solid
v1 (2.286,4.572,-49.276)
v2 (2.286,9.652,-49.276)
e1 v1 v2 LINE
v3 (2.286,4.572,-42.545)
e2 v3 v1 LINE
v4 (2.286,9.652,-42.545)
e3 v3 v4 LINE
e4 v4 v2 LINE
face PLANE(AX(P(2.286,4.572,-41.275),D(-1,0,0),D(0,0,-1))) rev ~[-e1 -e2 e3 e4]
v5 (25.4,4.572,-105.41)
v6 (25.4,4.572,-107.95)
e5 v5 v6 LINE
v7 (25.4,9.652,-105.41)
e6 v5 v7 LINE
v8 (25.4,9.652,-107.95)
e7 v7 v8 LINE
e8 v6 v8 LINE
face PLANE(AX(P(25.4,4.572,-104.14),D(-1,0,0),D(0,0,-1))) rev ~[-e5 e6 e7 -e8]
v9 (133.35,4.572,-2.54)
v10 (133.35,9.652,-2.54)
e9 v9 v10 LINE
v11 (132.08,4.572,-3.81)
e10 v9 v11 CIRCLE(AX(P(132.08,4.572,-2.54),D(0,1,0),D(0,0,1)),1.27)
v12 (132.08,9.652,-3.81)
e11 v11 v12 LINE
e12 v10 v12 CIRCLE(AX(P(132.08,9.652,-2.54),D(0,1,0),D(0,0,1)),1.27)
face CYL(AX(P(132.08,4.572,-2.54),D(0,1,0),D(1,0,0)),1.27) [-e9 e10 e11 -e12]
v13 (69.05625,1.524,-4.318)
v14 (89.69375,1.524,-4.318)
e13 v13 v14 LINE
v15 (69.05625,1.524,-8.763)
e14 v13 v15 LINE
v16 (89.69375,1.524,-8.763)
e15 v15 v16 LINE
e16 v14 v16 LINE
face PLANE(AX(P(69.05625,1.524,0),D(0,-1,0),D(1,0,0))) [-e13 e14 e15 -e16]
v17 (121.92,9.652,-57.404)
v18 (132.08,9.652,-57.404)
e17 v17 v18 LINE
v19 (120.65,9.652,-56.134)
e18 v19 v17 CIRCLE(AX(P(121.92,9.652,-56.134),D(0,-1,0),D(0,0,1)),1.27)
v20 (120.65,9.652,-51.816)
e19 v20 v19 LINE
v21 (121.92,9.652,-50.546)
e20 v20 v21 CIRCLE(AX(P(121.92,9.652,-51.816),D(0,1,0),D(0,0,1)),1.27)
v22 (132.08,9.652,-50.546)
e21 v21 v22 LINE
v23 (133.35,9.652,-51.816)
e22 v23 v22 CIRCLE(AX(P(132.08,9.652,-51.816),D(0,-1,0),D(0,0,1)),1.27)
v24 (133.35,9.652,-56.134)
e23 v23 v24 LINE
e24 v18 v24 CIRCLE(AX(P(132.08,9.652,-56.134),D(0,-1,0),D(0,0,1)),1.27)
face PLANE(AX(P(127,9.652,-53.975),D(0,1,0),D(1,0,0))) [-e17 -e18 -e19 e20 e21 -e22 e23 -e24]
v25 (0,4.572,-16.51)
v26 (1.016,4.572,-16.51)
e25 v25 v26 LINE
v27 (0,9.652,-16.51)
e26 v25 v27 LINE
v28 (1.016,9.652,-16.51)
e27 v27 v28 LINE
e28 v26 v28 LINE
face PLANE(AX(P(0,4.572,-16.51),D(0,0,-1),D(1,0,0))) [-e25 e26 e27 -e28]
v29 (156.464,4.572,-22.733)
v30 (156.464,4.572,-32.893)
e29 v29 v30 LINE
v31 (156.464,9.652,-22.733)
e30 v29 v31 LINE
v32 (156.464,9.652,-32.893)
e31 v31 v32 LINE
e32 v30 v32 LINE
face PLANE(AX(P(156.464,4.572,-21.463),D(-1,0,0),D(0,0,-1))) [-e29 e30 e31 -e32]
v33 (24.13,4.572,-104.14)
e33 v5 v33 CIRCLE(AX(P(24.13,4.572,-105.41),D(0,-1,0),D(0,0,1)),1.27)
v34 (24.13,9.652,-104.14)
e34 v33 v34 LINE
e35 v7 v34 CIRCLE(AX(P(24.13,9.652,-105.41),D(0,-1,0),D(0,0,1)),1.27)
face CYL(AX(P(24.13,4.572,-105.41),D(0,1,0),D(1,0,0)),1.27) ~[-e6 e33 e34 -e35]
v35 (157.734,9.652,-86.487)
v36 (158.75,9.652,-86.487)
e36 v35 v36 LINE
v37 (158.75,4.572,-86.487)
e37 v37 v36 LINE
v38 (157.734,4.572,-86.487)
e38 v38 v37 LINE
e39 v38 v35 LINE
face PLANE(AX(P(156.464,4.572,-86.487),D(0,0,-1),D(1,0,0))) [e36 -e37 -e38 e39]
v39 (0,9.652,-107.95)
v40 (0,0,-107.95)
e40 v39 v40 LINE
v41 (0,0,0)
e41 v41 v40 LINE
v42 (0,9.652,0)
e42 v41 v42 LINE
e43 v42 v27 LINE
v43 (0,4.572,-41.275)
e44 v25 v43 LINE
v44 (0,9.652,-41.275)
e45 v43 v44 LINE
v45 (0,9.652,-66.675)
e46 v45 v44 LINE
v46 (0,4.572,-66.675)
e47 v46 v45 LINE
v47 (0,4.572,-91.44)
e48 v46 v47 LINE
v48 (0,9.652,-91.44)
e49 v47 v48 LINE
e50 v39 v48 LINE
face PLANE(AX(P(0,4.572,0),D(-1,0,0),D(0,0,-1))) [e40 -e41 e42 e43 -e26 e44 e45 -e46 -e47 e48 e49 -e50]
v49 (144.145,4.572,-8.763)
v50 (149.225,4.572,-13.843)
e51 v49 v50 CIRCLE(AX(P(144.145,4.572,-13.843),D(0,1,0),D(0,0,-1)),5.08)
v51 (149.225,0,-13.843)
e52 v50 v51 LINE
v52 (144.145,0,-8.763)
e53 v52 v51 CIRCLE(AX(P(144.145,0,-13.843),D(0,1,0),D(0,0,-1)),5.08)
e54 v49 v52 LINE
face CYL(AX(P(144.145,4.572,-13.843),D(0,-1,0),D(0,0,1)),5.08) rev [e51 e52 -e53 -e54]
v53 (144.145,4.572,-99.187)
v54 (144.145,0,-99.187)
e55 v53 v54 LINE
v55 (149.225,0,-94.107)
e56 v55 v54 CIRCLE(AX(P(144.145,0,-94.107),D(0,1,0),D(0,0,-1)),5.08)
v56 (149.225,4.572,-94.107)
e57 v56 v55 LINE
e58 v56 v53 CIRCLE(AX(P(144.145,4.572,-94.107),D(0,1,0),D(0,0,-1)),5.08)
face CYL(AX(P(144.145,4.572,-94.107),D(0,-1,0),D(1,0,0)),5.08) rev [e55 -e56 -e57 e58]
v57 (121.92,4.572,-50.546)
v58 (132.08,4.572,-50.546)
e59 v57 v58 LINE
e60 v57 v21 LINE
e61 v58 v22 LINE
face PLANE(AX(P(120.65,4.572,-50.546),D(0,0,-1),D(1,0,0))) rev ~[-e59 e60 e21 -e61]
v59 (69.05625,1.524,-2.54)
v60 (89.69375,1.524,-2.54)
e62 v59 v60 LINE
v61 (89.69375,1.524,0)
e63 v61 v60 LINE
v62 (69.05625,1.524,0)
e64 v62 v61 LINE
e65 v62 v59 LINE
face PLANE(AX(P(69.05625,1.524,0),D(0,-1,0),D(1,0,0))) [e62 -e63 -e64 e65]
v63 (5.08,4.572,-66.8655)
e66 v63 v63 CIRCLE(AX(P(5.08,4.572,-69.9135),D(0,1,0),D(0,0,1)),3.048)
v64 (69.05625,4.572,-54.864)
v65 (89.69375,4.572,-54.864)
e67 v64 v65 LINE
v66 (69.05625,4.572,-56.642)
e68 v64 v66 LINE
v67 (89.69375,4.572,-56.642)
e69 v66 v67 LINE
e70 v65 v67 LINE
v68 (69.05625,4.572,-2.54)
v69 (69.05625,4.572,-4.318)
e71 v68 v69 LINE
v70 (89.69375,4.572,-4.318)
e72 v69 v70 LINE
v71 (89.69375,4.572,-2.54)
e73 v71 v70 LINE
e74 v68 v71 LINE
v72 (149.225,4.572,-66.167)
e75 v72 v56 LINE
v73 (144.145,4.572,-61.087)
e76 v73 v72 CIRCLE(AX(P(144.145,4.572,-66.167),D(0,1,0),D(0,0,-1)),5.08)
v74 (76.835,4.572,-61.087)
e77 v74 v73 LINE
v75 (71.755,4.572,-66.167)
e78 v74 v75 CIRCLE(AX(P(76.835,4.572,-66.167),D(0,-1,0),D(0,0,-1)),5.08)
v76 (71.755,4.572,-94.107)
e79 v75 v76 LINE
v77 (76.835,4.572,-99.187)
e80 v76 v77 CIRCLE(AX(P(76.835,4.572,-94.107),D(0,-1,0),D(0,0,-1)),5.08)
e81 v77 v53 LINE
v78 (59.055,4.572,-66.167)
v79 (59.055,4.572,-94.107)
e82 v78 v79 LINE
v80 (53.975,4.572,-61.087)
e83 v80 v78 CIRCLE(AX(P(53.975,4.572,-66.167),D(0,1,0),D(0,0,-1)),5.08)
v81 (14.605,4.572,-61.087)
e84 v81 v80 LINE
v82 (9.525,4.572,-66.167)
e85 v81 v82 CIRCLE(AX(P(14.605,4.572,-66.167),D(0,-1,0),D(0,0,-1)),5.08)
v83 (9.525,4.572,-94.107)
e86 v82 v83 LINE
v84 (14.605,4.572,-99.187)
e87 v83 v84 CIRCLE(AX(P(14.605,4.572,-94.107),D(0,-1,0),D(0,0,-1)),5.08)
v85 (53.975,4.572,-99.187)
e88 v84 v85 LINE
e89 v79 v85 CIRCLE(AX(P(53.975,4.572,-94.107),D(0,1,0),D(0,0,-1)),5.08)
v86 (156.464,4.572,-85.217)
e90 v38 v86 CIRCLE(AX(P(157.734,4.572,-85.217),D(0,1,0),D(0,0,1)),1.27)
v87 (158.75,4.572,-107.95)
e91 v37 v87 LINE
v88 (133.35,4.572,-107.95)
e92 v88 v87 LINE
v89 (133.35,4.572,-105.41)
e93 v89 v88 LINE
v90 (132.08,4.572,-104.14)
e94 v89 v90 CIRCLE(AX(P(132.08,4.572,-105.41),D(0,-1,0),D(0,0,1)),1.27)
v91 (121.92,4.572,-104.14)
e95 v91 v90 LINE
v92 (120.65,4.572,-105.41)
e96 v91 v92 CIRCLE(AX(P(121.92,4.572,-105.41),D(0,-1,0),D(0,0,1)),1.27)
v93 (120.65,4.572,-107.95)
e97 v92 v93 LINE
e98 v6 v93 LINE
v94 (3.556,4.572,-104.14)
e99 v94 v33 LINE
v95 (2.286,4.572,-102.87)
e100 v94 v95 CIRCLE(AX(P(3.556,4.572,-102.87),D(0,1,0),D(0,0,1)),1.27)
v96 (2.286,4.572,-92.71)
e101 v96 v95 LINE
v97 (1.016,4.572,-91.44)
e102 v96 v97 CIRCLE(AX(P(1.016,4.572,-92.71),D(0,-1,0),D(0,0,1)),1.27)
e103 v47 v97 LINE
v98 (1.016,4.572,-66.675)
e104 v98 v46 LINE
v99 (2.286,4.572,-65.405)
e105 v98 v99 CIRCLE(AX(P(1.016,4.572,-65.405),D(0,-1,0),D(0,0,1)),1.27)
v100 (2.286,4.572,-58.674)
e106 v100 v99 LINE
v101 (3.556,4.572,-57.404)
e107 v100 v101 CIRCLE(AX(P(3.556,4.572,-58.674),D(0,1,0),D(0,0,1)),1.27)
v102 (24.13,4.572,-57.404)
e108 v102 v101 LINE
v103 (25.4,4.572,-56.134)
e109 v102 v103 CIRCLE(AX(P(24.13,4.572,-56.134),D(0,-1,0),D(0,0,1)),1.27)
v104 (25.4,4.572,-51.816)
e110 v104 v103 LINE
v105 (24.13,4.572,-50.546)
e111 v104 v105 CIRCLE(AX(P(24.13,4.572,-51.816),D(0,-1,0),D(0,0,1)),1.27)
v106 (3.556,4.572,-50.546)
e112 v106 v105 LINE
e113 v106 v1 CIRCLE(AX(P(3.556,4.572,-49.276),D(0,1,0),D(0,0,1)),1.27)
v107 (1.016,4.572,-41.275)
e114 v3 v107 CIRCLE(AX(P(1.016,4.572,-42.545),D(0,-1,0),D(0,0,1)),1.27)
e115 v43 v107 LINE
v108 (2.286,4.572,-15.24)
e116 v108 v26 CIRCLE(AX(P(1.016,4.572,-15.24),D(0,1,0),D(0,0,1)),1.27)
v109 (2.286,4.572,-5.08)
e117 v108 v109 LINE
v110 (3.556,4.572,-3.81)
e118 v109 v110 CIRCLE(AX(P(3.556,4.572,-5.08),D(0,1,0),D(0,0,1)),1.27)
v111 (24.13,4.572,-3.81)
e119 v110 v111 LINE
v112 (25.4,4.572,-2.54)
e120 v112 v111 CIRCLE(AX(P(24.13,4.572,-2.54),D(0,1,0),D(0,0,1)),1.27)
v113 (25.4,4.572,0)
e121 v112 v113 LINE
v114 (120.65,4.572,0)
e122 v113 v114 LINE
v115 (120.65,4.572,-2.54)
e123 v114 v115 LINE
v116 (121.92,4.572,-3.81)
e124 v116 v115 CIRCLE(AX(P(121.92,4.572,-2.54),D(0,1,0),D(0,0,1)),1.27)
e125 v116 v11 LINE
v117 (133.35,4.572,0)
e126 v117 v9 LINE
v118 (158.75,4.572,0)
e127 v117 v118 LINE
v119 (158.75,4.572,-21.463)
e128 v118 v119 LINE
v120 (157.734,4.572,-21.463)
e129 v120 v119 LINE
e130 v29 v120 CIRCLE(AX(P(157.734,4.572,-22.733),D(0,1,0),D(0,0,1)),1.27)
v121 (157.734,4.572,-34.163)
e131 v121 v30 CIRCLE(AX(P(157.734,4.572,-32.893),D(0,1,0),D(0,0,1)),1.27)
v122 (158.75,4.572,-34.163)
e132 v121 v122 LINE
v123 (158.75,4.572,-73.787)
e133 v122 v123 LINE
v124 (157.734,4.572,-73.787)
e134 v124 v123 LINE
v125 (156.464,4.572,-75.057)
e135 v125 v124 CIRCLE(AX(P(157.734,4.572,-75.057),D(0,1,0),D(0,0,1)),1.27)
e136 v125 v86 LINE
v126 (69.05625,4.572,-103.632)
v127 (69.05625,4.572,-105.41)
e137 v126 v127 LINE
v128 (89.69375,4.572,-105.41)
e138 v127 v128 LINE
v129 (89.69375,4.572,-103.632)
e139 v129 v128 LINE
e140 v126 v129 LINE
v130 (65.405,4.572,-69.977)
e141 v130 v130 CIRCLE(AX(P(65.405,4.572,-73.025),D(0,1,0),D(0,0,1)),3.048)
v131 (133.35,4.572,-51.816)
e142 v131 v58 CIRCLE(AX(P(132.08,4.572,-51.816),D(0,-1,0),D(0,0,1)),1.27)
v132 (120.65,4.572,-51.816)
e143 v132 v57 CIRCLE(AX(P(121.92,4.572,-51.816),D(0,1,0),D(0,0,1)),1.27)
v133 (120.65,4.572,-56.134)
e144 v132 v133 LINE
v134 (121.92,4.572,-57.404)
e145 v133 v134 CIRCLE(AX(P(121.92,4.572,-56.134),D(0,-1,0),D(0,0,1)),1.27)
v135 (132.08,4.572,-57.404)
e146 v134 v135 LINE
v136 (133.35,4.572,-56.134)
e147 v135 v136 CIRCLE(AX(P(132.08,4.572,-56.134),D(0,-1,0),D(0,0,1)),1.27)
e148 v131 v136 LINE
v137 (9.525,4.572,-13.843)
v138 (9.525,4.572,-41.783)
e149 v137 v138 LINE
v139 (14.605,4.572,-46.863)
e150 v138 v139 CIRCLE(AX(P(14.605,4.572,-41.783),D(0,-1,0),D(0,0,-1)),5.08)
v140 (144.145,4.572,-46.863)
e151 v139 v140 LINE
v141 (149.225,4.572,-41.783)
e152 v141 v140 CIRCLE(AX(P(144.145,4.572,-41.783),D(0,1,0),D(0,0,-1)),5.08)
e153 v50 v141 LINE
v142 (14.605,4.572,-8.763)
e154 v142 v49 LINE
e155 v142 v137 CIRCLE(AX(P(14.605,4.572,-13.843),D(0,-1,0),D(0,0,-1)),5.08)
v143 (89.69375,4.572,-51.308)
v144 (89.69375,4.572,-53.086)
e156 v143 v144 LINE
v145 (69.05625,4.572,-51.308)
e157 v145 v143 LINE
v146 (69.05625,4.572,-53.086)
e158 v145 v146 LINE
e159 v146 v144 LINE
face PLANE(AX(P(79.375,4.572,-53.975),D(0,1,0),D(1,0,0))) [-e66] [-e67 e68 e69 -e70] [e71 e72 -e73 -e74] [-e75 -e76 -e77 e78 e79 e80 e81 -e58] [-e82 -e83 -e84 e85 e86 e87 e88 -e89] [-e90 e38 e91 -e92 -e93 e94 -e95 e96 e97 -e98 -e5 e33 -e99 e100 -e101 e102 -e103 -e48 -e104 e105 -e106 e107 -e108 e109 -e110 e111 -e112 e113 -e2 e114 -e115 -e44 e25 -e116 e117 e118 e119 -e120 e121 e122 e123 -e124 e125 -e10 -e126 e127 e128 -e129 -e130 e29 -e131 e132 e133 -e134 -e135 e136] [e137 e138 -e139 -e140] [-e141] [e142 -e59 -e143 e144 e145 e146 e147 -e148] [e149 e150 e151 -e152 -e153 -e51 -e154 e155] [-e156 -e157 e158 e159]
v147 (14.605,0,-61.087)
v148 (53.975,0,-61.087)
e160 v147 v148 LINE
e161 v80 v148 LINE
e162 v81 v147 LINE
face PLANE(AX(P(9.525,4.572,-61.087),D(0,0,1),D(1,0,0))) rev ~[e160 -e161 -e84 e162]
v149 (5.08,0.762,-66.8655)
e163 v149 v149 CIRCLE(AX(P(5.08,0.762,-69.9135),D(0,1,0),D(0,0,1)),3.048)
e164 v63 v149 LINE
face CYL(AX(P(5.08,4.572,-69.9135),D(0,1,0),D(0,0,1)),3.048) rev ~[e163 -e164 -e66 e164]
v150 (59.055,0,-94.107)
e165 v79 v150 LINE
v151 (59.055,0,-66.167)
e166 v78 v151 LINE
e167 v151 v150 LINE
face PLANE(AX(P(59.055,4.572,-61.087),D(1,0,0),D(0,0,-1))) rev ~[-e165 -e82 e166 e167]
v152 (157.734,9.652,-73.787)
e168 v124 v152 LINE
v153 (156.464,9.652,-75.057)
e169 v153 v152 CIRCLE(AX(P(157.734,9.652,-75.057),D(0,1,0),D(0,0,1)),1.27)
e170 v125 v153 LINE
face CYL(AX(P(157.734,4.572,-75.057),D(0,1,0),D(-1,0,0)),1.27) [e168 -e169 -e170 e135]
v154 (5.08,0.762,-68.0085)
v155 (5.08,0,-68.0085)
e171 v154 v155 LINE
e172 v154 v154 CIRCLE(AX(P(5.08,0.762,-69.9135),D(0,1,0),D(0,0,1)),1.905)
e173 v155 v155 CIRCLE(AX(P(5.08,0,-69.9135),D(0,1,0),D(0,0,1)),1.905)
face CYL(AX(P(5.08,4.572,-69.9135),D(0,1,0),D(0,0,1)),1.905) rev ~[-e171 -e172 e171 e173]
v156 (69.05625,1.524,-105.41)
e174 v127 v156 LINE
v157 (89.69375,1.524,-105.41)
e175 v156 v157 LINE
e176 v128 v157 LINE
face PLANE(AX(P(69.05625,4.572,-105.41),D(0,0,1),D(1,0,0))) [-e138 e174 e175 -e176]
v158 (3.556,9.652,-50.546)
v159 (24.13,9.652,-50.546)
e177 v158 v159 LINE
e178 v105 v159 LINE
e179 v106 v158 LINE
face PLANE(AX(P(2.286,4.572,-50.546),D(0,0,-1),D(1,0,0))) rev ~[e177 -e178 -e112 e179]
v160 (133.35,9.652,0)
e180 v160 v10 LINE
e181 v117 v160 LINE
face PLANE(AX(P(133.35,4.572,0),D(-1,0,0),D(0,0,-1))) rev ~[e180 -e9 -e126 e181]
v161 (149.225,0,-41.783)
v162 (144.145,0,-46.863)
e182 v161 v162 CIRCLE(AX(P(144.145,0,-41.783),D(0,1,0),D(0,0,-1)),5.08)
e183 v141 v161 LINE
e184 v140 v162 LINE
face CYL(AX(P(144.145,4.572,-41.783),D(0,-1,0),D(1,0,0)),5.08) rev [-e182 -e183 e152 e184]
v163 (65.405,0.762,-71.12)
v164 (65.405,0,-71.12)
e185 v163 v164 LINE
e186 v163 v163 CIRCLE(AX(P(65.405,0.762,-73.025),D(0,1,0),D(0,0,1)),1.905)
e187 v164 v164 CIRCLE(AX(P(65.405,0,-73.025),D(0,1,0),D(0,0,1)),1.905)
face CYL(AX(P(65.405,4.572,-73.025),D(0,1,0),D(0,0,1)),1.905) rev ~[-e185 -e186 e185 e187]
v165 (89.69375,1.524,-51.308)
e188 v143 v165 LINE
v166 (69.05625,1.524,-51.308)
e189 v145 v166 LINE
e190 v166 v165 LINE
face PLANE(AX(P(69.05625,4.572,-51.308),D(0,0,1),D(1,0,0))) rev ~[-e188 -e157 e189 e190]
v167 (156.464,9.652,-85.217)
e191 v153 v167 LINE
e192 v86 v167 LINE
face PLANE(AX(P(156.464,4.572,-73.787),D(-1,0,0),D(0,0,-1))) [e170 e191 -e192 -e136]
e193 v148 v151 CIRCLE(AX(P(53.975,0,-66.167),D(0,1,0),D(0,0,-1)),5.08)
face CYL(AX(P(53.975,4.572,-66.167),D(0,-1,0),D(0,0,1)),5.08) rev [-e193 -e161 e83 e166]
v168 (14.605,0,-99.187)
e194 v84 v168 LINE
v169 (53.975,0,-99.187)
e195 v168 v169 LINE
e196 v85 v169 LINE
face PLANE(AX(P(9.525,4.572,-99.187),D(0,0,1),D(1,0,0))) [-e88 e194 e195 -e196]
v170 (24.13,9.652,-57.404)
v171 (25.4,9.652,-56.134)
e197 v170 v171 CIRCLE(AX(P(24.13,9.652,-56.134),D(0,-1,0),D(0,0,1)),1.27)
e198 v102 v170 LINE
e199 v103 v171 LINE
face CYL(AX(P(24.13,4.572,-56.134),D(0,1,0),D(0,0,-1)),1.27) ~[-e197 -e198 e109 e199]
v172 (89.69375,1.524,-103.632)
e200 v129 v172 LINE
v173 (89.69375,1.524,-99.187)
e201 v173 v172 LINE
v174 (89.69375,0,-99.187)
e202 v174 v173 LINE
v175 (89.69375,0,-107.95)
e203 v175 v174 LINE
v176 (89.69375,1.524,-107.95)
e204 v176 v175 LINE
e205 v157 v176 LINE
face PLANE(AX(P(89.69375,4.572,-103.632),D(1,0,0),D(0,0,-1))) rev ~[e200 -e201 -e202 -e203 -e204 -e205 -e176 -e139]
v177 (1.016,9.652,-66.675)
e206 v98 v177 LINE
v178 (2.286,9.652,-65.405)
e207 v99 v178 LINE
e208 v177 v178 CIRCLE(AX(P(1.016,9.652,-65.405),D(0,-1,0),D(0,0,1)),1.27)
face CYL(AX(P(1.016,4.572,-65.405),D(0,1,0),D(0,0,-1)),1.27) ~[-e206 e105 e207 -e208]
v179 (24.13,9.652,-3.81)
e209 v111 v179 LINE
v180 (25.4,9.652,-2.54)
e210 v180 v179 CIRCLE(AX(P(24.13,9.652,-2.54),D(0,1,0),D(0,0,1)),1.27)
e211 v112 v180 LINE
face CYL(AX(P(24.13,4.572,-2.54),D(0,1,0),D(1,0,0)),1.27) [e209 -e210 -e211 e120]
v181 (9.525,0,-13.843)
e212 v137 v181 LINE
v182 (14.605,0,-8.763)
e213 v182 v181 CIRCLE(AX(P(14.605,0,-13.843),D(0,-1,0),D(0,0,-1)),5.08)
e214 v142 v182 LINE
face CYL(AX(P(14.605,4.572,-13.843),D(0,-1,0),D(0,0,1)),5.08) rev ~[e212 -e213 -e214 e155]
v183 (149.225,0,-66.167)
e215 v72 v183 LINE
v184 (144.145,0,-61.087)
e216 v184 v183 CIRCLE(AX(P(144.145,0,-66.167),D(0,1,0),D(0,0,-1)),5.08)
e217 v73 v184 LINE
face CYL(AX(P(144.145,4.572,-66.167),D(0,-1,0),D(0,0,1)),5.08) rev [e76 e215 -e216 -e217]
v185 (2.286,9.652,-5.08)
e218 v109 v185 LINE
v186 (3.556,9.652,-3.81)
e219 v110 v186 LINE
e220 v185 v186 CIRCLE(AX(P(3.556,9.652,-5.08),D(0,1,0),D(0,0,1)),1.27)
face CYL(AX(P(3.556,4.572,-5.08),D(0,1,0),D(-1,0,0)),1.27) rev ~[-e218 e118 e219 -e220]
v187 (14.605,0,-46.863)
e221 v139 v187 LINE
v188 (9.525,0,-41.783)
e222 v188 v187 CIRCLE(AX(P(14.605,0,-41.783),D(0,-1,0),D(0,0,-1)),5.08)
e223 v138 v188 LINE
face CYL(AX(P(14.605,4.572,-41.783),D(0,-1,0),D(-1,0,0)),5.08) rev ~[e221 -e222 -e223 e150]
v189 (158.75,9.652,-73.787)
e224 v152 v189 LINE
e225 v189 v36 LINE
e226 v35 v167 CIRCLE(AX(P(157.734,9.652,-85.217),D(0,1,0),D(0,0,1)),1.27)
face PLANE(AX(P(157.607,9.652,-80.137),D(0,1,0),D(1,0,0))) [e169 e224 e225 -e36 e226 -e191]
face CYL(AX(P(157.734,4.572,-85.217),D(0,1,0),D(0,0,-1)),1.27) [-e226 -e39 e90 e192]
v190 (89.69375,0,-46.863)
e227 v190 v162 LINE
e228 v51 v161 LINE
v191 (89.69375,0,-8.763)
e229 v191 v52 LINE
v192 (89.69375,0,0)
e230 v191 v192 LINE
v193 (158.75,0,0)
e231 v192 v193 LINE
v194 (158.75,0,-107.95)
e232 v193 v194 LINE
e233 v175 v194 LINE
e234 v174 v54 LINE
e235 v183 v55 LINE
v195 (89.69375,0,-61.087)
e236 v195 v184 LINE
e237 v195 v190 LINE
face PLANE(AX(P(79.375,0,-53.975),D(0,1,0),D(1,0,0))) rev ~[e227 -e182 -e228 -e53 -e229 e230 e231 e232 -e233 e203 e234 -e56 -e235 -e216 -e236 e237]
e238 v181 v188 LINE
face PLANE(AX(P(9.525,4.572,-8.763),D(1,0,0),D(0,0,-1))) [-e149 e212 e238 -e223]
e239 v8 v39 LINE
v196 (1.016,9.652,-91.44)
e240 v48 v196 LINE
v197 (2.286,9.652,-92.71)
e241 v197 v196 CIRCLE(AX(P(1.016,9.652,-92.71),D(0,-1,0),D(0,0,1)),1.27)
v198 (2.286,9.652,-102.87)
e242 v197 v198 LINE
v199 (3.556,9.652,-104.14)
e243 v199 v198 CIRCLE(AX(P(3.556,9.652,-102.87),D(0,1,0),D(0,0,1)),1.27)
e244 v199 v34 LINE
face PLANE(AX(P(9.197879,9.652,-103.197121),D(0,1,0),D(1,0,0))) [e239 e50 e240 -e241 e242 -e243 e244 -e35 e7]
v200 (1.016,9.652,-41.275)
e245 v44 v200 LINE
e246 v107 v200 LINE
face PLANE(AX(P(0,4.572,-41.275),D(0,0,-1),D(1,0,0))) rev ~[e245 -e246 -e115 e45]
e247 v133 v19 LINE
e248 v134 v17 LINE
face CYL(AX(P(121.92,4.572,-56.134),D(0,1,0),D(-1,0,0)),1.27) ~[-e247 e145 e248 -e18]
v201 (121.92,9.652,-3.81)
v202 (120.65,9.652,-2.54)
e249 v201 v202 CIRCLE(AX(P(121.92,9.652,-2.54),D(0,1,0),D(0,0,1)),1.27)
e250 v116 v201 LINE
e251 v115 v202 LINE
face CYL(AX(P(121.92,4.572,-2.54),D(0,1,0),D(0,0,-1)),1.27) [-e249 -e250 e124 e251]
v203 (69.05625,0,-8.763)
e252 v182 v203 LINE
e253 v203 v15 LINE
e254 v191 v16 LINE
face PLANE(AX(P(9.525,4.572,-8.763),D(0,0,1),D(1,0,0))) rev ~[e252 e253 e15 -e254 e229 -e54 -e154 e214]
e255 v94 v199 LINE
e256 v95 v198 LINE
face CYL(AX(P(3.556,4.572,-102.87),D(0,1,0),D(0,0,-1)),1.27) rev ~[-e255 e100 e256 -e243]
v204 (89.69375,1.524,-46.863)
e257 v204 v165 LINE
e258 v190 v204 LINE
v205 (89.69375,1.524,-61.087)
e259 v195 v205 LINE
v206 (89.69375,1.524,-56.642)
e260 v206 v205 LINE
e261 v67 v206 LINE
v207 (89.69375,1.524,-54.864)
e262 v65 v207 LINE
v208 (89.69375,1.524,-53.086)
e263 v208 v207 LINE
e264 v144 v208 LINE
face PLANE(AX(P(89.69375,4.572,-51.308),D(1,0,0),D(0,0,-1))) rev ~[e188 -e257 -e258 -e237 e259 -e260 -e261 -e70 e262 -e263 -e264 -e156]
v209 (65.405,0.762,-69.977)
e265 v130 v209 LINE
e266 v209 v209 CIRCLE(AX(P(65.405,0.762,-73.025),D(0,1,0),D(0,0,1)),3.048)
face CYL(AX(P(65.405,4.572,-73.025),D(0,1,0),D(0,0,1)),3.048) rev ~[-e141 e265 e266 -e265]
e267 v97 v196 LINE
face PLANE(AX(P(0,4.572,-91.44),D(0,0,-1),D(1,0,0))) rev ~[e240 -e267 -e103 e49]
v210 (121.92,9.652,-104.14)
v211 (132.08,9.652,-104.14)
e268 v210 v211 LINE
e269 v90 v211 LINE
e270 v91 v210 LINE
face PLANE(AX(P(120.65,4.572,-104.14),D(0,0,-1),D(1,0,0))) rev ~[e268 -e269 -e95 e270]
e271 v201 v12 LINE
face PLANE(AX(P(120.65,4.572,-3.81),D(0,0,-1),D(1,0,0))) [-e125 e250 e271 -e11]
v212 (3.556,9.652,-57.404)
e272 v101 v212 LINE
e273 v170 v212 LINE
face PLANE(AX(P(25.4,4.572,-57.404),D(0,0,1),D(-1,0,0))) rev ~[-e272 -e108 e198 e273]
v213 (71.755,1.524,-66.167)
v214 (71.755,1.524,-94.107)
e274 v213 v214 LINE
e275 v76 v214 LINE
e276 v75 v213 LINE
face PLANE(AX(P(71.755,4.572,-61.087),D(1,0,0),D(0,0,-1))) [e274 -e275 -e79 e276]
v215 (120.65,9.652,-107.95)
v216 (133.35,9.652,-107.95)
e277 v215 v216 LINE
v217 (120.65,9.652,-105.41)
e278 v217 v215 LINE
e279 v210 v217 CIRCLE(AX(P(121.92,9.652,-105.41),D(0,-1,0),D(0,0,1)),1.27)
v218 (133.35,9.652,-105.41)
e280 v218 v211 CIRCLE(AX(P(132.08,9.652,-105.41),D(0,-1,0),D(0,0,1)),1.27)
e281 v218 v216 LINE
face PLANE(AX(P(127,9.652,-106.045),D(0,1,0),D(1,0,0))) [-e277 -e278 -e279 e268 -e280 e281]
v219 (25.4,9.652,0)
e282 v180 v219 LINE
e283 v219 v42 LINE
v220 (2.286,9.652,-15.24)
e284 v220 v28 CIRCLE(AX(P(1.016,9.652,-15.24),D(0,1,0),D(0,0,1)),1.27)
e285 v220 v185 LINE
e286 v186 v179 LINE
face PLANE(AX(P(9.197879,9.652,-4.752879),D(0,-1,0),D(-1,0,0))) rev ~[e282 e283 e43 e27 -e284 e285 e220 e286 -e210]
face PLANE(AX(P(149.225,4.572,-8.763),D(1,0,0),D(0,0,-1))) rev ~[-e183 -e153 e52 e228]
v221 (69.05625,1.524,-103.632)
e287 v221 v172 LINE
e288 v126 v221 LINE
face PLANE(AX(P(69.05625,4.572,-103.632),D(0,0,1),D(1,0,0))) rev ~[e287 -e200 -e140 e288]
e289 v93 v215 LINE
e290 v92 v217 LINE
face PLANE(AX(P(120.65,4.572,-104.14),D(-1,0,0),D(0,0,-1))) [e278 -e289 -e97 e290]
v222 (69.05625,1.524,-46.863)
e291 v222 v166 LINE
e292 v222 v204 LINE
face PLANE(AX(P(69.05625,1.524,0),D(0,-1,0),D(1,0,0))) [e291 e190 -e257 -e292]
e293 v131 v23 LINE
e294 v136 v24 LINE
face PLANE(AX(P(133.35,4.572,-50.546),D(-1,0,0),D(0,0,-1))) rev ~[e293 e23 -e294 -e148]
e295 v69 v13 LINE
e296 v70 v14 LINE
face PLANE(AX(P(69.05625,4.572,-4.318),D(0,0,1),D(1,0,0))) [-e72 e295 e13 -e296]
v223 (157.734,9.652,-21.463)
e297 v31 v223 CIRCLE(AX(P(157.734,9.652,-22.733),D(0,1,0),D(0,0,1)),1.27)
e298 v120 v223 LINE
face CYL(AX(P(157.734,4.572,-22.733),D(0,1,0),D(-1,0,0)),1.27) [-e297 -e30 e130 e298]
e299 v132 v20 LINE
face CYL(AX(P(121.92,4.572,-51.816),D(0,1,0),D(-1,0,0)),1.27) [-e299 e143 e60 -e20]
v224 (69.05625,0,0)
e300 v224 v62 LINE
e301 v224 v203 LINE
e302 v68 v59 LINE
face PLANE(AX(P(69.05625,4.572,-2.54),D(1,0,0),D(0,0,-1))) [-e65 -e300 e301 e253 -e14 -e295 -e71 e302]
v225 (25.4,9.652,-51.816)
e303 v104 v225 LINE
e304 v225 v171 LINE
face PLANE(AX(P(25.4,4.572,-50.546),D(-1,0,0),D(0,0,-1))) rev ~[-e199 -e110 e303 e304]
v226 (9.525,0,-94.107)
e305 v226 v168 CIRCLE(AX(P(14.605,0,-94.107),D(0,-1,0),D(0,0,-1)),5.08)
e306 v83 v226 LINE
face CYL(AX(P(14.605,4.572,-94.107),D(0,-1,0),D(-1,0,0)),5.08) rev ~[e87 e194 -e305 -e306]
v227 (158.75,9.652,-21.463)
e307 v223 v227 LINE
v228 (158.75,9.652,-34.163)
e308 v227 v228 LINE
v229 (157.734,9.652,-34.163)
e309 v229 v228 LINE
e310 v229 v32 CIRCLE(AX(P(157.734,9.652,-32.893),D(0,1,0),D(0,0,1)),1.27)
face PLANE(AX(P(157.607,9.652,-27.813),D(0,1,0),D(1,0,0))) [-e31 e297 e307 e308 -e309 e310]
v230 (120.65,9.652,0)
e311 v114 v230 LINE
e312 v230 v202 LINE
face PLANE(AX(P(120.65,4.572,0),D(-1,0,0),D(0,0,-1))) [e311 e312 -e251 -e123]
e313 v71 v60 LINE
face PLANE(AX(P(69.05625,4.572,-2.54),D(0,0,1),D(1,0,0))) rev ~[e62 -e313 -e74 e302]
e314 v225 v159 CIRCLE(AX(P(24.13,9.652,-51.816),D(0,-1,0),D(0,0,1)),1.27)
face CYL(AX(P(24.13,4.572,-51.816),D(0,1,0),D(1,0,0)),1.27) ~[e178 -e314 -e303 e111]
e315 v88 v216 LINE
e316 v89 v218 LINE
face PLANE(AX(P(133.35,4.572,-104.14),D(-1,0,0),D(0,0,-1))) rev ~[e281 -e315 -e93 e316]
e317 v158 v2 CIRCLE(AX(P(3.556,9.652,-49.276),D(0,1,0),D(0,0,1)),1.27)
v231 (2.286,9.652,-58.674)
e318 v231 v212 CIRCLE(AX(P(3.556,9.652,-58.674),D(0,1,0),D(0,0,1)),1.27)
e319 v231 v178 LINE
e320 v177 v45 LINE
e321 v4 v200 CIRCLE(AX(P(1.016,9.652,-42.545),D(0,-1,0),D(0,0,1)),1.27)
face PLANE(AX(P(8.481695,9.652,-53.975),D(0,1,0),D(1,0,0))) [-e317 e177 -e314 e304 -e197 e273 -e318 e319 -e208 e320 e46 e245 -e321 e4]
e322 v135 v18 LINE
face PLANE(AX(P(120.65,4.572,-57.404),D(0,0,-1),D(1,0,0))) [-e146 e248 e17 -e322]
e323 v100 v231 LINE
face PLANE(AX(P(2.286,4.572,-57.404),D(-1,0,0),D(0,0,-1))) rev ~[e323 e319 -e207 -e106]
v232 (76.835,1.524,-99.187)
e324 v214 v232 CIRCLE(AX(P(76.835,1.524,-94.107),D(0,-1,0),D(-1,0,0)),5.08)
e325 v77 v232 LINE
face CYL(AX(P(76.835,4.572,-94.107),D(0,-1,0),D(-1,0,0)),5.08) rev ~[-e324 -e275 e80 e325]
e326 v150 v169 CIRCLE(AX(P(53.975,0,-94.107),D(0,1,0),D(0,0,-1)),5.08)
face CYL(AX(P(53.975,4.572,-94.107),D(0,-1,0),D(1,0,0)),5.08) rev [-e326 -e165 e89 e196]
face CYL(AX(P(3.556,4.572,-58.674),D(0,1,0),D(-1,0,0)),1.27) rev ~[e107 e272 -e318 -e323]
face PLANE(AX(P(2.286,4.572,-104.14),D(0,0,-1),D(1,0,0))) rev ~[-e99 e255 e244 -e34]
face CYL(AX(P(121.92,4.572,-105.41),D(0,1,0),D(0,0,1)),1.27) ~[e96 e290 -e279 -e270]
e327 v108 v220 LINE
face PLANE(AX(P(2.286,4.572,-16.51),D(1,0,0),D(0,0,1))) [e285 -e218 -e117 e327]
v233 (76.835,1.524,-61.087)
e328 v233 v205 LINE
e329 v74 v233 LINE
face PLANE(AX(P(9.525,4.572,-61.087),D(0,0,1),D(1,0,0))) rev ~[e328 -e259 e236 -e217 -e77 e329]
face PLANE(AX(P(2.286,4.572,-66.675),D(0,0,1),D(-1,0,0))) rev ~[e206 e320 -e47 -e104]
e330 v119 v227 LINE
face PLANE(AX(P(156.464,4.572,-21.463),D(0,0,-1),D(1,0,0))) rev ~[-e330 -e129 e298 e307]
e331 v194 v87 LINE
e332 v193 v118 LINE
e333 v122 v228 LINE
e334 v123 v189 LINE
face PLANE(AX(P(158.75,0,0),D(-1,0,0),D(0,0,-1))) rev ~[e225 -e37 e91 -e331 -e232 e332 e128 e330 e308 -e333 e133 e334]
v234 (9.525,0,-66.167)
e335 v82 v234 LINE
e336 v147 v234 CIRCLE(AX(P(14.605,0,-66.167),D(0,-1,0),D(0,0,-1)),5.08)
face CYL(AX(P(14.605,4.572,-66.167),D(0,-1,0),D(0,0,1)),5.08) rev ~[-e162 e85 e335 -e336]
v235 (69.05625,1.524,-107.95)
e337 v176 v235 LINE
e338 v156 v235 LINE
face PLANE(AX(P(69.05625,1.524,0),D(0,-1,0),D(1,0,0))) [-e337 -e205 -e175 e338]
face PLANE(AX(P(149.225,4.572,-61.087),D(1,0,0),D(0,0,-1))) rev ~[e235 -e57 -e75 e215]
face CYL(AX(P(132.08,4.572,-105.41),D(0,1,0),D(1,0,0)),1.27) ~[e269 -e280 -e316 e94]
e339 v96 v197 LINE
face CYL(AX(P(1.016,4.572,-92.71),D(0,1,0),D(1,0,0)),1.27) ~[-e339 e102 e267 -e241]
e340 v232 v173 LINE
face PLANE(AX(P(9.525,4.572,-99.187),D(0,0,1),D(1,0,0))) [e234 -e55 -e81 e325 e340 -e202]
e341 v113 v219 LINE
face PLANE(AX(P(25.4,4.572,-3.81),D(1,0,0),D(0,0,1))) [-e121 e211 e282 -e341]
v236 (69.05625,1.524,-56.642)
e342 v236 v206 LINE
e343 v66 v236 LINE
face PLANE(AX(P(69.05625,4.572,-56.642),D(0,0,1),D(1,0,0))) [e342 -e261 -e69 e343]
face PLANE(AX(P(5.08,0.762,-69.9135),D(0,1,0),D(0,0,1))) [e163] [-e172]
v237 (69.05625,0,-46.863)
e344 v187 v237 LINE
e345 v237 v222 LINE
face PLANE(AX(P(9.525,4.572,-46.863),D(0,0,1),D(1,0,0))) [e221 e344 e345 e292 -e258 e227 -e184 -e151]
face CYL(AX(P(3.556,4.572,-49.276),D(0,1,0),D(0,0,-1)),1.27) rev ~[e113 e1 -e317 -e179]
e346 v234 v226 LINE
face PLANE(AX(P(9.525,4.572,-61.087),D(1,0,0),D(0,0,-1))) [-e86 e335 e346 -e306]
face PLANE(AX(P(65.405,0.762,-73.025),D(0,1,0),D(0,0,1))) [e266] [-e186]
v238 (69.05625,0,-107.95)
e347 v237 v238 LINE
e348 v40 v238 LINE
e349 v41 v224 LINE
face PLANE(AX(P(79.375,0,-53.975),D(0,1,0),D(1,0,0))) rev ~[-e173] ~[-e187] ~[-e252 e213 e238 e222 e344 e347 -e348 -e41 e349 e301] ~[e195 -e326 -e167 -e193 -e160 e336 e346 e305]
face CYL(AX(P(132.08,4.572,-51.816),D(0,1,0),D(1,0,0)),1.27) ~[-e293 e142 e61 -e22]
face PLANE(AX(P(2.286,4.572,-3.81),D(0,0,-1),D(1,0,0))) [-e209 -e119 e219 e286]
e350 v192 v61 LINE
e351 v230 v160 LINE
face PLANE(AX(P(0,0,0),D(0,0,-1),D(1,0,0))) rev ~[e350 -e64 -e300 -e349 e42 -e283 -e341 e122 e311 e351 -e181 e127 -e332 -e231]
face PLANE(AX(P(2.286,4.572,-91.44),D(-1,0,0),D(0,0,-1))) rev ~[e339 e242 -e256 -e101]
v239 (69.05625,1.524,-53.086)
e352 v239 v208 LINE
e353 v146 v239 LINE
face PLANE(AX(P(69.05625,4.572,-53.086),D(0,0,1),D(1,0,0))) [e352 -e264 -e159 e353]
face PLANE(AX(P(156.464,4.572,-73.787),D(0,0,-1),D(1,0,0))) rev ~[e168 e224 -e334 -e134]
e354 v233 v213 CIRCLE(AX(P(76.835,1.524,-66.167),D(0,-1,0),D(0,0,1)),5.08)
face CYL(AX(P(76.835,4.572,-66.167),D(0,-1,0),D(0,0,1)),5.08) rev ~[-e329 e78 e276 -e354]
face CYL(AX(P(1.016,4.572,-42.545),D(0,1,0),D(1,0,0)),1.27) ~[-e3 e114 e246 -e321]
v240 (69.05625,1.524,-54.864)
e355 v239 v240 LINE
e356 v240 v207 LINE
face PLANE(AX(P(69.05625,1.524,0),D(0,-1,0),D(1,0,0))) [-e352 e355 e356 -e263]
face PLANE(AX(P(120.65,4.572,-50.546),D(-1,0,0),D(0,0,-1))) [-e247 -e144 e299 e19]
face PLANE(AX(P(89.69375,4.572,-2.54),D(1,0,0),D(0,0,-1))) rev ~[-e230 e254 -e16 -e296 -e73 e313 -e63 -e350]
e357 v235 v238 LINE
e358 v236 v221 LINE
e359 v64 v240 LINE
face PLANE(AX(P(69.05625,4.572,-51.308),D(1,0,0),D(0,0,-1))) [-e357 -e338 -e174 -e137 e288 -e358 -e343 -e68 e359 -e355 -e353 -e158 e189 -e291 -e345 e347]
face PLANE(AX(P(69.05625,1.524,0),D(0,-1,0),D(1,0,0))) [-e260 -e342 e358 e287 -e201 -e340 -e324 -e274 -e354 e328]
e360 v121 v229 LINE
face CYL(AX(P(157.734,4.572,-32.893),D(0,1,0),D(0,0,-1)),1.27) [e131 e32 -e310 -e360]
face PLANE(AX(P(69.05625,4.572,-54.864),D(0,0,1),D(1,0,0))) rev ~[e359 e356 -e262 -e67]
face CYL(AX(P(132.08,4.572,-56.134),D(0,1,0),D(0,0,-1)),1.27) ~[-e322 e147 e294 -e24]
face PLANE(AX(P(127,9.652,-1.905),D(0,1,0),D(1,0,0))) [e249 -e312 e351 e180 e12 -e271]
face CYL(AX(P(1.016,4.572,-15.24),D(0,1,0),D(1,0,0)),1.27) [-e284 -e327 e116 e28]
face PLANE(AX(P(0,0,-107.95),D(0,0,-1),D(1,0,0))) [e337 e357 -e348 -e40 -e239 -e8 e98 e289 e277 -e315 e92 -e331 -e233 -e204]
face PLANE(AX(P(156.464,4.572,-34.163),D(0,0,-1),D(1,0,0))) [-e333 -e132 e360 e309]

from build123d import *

# Parameters (mm, degrees)
SKETCH3_W                          = 158.75
SKETCH3_H                          = 107.95
BASE_EXTRUDE_DEPTH                 = 4.572
SKETCH4_W                          = 20.6375
SKETCH4_H                          = 1.778
SKETCH4_W_2                        = 139.7
SKETCH4_H_2                        = 38.1
VELCRO_SLITS_DEPTH                 = 193.030383492
SKETCH6_W                          = 2.286
SKETCH6_H                          = 12.7
SKETCH6_W_2                        = 12.7
SKETCH6_H_2                        = 3.81
SKETCH6_H_3                        = 6.858
POSITION_GUIDES_DEPTH              = 5.08
FILLET1_R                          = 1.27
SKETCH7_R                          = 1.905
SKETCH7_W                          = 12.7
SKETCH7_H                          = 38.1
RIGHT_SCREW_HOLE_AND_SUPPORT_DEPTH = 4.572
SKETCH10_R                         = 1.905
LEFT_SCREW_HOLE_DEPTH              = 193.043149839
FILLET2_R                          = 5.08
SKETCH11_R                         = 3.048
SCREWHEAD_CUTOUTS_DEPTH            = 3.81
SKETCH5_W                          = 20.6375
SKETCH5_H                          = 1.524
CUT_EXTRUDE1_DEPTH                 = 193.21843331


with BuildPart() as part:
    # Sketch3 → Base Extrude (new body)
    with BuildSketch(Plane(origin=(0, 0, 0), x_dir=(1, 0, 0), z_dir=(0, 1, 0))):
        with Locations((79.375, 53.975)):
            Rectangle(SKETCH3_W, SKETCH3_H)
    extrude(amount=BASE_EXTRUDE_DEPTH)

    # Sketch4 → Velcro slits (cut, through all)
    with BuildSketch(Plane(origin=(0, 4.572, 0), x_dir=(1, 0, 0), z_dir=(0, 1, 0))):
        with Locations((79.375, 104.521)):
            Rectangle(SKETCH4_W, SKETCH4_H)
        with Locations((79.375, 55.753)):
            Rectangle(SKETCH4_W, SKETCH4_H)
        with Locations((79.375, 52.197)):
            Rectangle(SKETCH4_W, SKETCH4_H)
        with Locations((79.375, 3.429)):
            Rectangle(SKETCH4_W, SKETCH4_H)
        with Locations((79.375, 27.813)):
            Rectangle(SKETCH4_W_2, SKETCH4_H_2)
        with Locations((79.375, 80.137)):
            Rectangle(SKETCH4_W_2, SKETCH4_H_2)
    extrude(amount=-VELCRO_SLITS_DEPTH, mode=Mode.SUBTRACT)

    # Sketch6 → Position Guides (add)
    with BuildSketch(Plane(origin=(0, 4.572, 0), x_dir=(1, 0, 0), z_dir=(0, 1, 0))):
        Polygon((2.286, 16.51), (2.286, 3.81), (25.4, 3.81), (25.4, 0), (0, 0), (0, 16.51), align=None)
        Polygon((2.286, 41.275), (2.286, 50.546), (25.4, 50.546), (25.4, 57.404), (2.286, 57.404), (2.286, 66.675), (0, 66.675), (0, 41.275), align=None)
        Polygon((0, 91.44), (2.286, 91.44), (2.286, 104.14), (25.4, 104.14), (25.4, 107.95), (0, 107.95), align=None)
        with Locations((157.607, 80.137)):
            Rectangle(SKETCH6_W, SKETCH6_H)
        with Locations((157.607, 27.813)):
            Rectangle(SKETCH6_W, SKETCH6_H)
        with Locations((127, 106.045)):
            Rectangle(SKETCH6_W_2, SKETCH6_H_2)
        with Locations((127, 53.975)):
            Rectangle(SKETCH6_W_2, SKETCH6_H_3)
        with Locations((127, 1.905)):
            Rectangle(SKETCH6_W_2, SKETCH6_H_2)
    extrude(amount=POSITION_GUIDES_DEPTH)

    # Fillet1
    fillet1_edges = [part.edges().sort_by_distance(p)[0] for p in [
        (2.286, 7.112, -16.51),
        (25.4, 7.112, -3.81),
        (2.286, 7.112, -3.81),
        (2.286, 7.112, -41.275),
        (2.286, 7.112, -50.546),
        (25.4, 7.112, -50.546),
        (25.4, 7.112, -57.404),
        (2.286, 7.112, -57.404),
        (2.286, 7.112, -66.675),
        (2.286, 7.112, -91.44),
        (2.286, 7.112, -104.14),
        (25.4, 7.112, -104.14),
        (156.464, 7.112, -86.487),
        (156.464, 7.112, -73.787),
        (156.464, 7.112, -34.163),
        (156.464, 7.112, -21.463),
        (120.65, 7.112, -57.404),
        (120.65, 7.112, -50.546),
        (133.35, 7.112, -50.546),
        (133.35, 7.112, -57.404),
        (133.35, 7.112, -104.14),
        (120.65, 7.112, -104.14),
        (133.35, 7.112, -3.81),
        (120.65, 7.112, -3.81),
    ]]
    fillet(fillet1_edges, radius=FILLET1_R)

    # Sketch7 → Right screw hole and support (add)
    # profile 1 of 2: a face of its own
    with BuildSketch(Plane(origin=(0, 4.572, 0), x_dir=(1, 0, 0), z_dir=(0, 1, 0))):
        with Locations((5.08, 69.85)):
            Circle(SKETCH7_R)
    # profile 2 of 2: a face of its own
    with BuildSketch(Plane(origin=(0, 4.572, 0), x_dir=(1, 0, 0), z_dir=(0, 1, 0))):
        with Locations((65.405, 80.137)):
            Rectangle(SKETCH7_W, SKETCH7_H)
        with Locations(Location((65.405, 73.025, 0), (0, 0, 270))):
            Circle(SKETCH7_R, mode=Mode.SUBTRACT)
    extrude(amount=-RIGHT_SCREW_HOLE_AND_SUPPORT_DEPTH)

    # Sketch10 → Left Screw Hole (cut, through all)
    with BuildSketch(Plane(origin=(0, 4.572, 0), x_dir=(1, 0, 0), z_dir=(0, 1, 0))):
        with Locations(Location((5.08, 69.9135, 0), (0, 0, 270))):
            Circle(SKETCH10_R)
    extrude(amount=-LEFT_SCREW_HOLE_DEPTH, mode=Mode.SUBTRACT)

    # Fillet2
    fillet2_edges = [part.edges().sort_by_distance(p)[0] for p in [
        (59.055, 2.286, -99.187),
        (71.755, 2.286, -99.187),
        (71.755, 2.286, -61.087),
        (59.055, 2.286, -61.087),
        (9.525, 2.286, -8.763),
        (9.525, 2.286, -46.863),
        (149.225, 2.286, -46.863),
        (149.225, 2.286, -8.763),
        (9.525, 2.286, -61.087),
        (9.525, 2.286, -99.187),
        (149.225, 2.286, -99.187),
        (149.225, 2.286, -61.087),
    ]]
    fillet(fillet2_edges, radius=FILLET2_R)

    # Sketch11 → Screwhead cutouts (cut)
    with BuildSketch(Plane(origin=(0, 4.572, 0), x_dir=(1, 0, 0), z_dir=(0, 1, 0))):
        with Locations(Location((5.08, 69.9135, 0), (0, 0, 270))):
            Circle(SKETCH11_R)
        with Locations(Location((65.405, 73.025, 0), (0, 0, 270))):
            Circle(SKETCH11_R)
    extrude(amount=-SCREWHEAD_CUTOUTS_DEPTH, mode=Mode.SUBTRACT)

    # Sketch5 → Cut-Extrude1 (cut, through all)
    with BuildSketch(Plane.XY):
        with Locations((79.375, 0.762)):
            Rectangle(SKETCH5_W, SKETCH5_H)
    extrude(amount=-CUT_EXTRUDE1_DEPTH, mode=Mode.SUBTRACT)


solid = part.part
